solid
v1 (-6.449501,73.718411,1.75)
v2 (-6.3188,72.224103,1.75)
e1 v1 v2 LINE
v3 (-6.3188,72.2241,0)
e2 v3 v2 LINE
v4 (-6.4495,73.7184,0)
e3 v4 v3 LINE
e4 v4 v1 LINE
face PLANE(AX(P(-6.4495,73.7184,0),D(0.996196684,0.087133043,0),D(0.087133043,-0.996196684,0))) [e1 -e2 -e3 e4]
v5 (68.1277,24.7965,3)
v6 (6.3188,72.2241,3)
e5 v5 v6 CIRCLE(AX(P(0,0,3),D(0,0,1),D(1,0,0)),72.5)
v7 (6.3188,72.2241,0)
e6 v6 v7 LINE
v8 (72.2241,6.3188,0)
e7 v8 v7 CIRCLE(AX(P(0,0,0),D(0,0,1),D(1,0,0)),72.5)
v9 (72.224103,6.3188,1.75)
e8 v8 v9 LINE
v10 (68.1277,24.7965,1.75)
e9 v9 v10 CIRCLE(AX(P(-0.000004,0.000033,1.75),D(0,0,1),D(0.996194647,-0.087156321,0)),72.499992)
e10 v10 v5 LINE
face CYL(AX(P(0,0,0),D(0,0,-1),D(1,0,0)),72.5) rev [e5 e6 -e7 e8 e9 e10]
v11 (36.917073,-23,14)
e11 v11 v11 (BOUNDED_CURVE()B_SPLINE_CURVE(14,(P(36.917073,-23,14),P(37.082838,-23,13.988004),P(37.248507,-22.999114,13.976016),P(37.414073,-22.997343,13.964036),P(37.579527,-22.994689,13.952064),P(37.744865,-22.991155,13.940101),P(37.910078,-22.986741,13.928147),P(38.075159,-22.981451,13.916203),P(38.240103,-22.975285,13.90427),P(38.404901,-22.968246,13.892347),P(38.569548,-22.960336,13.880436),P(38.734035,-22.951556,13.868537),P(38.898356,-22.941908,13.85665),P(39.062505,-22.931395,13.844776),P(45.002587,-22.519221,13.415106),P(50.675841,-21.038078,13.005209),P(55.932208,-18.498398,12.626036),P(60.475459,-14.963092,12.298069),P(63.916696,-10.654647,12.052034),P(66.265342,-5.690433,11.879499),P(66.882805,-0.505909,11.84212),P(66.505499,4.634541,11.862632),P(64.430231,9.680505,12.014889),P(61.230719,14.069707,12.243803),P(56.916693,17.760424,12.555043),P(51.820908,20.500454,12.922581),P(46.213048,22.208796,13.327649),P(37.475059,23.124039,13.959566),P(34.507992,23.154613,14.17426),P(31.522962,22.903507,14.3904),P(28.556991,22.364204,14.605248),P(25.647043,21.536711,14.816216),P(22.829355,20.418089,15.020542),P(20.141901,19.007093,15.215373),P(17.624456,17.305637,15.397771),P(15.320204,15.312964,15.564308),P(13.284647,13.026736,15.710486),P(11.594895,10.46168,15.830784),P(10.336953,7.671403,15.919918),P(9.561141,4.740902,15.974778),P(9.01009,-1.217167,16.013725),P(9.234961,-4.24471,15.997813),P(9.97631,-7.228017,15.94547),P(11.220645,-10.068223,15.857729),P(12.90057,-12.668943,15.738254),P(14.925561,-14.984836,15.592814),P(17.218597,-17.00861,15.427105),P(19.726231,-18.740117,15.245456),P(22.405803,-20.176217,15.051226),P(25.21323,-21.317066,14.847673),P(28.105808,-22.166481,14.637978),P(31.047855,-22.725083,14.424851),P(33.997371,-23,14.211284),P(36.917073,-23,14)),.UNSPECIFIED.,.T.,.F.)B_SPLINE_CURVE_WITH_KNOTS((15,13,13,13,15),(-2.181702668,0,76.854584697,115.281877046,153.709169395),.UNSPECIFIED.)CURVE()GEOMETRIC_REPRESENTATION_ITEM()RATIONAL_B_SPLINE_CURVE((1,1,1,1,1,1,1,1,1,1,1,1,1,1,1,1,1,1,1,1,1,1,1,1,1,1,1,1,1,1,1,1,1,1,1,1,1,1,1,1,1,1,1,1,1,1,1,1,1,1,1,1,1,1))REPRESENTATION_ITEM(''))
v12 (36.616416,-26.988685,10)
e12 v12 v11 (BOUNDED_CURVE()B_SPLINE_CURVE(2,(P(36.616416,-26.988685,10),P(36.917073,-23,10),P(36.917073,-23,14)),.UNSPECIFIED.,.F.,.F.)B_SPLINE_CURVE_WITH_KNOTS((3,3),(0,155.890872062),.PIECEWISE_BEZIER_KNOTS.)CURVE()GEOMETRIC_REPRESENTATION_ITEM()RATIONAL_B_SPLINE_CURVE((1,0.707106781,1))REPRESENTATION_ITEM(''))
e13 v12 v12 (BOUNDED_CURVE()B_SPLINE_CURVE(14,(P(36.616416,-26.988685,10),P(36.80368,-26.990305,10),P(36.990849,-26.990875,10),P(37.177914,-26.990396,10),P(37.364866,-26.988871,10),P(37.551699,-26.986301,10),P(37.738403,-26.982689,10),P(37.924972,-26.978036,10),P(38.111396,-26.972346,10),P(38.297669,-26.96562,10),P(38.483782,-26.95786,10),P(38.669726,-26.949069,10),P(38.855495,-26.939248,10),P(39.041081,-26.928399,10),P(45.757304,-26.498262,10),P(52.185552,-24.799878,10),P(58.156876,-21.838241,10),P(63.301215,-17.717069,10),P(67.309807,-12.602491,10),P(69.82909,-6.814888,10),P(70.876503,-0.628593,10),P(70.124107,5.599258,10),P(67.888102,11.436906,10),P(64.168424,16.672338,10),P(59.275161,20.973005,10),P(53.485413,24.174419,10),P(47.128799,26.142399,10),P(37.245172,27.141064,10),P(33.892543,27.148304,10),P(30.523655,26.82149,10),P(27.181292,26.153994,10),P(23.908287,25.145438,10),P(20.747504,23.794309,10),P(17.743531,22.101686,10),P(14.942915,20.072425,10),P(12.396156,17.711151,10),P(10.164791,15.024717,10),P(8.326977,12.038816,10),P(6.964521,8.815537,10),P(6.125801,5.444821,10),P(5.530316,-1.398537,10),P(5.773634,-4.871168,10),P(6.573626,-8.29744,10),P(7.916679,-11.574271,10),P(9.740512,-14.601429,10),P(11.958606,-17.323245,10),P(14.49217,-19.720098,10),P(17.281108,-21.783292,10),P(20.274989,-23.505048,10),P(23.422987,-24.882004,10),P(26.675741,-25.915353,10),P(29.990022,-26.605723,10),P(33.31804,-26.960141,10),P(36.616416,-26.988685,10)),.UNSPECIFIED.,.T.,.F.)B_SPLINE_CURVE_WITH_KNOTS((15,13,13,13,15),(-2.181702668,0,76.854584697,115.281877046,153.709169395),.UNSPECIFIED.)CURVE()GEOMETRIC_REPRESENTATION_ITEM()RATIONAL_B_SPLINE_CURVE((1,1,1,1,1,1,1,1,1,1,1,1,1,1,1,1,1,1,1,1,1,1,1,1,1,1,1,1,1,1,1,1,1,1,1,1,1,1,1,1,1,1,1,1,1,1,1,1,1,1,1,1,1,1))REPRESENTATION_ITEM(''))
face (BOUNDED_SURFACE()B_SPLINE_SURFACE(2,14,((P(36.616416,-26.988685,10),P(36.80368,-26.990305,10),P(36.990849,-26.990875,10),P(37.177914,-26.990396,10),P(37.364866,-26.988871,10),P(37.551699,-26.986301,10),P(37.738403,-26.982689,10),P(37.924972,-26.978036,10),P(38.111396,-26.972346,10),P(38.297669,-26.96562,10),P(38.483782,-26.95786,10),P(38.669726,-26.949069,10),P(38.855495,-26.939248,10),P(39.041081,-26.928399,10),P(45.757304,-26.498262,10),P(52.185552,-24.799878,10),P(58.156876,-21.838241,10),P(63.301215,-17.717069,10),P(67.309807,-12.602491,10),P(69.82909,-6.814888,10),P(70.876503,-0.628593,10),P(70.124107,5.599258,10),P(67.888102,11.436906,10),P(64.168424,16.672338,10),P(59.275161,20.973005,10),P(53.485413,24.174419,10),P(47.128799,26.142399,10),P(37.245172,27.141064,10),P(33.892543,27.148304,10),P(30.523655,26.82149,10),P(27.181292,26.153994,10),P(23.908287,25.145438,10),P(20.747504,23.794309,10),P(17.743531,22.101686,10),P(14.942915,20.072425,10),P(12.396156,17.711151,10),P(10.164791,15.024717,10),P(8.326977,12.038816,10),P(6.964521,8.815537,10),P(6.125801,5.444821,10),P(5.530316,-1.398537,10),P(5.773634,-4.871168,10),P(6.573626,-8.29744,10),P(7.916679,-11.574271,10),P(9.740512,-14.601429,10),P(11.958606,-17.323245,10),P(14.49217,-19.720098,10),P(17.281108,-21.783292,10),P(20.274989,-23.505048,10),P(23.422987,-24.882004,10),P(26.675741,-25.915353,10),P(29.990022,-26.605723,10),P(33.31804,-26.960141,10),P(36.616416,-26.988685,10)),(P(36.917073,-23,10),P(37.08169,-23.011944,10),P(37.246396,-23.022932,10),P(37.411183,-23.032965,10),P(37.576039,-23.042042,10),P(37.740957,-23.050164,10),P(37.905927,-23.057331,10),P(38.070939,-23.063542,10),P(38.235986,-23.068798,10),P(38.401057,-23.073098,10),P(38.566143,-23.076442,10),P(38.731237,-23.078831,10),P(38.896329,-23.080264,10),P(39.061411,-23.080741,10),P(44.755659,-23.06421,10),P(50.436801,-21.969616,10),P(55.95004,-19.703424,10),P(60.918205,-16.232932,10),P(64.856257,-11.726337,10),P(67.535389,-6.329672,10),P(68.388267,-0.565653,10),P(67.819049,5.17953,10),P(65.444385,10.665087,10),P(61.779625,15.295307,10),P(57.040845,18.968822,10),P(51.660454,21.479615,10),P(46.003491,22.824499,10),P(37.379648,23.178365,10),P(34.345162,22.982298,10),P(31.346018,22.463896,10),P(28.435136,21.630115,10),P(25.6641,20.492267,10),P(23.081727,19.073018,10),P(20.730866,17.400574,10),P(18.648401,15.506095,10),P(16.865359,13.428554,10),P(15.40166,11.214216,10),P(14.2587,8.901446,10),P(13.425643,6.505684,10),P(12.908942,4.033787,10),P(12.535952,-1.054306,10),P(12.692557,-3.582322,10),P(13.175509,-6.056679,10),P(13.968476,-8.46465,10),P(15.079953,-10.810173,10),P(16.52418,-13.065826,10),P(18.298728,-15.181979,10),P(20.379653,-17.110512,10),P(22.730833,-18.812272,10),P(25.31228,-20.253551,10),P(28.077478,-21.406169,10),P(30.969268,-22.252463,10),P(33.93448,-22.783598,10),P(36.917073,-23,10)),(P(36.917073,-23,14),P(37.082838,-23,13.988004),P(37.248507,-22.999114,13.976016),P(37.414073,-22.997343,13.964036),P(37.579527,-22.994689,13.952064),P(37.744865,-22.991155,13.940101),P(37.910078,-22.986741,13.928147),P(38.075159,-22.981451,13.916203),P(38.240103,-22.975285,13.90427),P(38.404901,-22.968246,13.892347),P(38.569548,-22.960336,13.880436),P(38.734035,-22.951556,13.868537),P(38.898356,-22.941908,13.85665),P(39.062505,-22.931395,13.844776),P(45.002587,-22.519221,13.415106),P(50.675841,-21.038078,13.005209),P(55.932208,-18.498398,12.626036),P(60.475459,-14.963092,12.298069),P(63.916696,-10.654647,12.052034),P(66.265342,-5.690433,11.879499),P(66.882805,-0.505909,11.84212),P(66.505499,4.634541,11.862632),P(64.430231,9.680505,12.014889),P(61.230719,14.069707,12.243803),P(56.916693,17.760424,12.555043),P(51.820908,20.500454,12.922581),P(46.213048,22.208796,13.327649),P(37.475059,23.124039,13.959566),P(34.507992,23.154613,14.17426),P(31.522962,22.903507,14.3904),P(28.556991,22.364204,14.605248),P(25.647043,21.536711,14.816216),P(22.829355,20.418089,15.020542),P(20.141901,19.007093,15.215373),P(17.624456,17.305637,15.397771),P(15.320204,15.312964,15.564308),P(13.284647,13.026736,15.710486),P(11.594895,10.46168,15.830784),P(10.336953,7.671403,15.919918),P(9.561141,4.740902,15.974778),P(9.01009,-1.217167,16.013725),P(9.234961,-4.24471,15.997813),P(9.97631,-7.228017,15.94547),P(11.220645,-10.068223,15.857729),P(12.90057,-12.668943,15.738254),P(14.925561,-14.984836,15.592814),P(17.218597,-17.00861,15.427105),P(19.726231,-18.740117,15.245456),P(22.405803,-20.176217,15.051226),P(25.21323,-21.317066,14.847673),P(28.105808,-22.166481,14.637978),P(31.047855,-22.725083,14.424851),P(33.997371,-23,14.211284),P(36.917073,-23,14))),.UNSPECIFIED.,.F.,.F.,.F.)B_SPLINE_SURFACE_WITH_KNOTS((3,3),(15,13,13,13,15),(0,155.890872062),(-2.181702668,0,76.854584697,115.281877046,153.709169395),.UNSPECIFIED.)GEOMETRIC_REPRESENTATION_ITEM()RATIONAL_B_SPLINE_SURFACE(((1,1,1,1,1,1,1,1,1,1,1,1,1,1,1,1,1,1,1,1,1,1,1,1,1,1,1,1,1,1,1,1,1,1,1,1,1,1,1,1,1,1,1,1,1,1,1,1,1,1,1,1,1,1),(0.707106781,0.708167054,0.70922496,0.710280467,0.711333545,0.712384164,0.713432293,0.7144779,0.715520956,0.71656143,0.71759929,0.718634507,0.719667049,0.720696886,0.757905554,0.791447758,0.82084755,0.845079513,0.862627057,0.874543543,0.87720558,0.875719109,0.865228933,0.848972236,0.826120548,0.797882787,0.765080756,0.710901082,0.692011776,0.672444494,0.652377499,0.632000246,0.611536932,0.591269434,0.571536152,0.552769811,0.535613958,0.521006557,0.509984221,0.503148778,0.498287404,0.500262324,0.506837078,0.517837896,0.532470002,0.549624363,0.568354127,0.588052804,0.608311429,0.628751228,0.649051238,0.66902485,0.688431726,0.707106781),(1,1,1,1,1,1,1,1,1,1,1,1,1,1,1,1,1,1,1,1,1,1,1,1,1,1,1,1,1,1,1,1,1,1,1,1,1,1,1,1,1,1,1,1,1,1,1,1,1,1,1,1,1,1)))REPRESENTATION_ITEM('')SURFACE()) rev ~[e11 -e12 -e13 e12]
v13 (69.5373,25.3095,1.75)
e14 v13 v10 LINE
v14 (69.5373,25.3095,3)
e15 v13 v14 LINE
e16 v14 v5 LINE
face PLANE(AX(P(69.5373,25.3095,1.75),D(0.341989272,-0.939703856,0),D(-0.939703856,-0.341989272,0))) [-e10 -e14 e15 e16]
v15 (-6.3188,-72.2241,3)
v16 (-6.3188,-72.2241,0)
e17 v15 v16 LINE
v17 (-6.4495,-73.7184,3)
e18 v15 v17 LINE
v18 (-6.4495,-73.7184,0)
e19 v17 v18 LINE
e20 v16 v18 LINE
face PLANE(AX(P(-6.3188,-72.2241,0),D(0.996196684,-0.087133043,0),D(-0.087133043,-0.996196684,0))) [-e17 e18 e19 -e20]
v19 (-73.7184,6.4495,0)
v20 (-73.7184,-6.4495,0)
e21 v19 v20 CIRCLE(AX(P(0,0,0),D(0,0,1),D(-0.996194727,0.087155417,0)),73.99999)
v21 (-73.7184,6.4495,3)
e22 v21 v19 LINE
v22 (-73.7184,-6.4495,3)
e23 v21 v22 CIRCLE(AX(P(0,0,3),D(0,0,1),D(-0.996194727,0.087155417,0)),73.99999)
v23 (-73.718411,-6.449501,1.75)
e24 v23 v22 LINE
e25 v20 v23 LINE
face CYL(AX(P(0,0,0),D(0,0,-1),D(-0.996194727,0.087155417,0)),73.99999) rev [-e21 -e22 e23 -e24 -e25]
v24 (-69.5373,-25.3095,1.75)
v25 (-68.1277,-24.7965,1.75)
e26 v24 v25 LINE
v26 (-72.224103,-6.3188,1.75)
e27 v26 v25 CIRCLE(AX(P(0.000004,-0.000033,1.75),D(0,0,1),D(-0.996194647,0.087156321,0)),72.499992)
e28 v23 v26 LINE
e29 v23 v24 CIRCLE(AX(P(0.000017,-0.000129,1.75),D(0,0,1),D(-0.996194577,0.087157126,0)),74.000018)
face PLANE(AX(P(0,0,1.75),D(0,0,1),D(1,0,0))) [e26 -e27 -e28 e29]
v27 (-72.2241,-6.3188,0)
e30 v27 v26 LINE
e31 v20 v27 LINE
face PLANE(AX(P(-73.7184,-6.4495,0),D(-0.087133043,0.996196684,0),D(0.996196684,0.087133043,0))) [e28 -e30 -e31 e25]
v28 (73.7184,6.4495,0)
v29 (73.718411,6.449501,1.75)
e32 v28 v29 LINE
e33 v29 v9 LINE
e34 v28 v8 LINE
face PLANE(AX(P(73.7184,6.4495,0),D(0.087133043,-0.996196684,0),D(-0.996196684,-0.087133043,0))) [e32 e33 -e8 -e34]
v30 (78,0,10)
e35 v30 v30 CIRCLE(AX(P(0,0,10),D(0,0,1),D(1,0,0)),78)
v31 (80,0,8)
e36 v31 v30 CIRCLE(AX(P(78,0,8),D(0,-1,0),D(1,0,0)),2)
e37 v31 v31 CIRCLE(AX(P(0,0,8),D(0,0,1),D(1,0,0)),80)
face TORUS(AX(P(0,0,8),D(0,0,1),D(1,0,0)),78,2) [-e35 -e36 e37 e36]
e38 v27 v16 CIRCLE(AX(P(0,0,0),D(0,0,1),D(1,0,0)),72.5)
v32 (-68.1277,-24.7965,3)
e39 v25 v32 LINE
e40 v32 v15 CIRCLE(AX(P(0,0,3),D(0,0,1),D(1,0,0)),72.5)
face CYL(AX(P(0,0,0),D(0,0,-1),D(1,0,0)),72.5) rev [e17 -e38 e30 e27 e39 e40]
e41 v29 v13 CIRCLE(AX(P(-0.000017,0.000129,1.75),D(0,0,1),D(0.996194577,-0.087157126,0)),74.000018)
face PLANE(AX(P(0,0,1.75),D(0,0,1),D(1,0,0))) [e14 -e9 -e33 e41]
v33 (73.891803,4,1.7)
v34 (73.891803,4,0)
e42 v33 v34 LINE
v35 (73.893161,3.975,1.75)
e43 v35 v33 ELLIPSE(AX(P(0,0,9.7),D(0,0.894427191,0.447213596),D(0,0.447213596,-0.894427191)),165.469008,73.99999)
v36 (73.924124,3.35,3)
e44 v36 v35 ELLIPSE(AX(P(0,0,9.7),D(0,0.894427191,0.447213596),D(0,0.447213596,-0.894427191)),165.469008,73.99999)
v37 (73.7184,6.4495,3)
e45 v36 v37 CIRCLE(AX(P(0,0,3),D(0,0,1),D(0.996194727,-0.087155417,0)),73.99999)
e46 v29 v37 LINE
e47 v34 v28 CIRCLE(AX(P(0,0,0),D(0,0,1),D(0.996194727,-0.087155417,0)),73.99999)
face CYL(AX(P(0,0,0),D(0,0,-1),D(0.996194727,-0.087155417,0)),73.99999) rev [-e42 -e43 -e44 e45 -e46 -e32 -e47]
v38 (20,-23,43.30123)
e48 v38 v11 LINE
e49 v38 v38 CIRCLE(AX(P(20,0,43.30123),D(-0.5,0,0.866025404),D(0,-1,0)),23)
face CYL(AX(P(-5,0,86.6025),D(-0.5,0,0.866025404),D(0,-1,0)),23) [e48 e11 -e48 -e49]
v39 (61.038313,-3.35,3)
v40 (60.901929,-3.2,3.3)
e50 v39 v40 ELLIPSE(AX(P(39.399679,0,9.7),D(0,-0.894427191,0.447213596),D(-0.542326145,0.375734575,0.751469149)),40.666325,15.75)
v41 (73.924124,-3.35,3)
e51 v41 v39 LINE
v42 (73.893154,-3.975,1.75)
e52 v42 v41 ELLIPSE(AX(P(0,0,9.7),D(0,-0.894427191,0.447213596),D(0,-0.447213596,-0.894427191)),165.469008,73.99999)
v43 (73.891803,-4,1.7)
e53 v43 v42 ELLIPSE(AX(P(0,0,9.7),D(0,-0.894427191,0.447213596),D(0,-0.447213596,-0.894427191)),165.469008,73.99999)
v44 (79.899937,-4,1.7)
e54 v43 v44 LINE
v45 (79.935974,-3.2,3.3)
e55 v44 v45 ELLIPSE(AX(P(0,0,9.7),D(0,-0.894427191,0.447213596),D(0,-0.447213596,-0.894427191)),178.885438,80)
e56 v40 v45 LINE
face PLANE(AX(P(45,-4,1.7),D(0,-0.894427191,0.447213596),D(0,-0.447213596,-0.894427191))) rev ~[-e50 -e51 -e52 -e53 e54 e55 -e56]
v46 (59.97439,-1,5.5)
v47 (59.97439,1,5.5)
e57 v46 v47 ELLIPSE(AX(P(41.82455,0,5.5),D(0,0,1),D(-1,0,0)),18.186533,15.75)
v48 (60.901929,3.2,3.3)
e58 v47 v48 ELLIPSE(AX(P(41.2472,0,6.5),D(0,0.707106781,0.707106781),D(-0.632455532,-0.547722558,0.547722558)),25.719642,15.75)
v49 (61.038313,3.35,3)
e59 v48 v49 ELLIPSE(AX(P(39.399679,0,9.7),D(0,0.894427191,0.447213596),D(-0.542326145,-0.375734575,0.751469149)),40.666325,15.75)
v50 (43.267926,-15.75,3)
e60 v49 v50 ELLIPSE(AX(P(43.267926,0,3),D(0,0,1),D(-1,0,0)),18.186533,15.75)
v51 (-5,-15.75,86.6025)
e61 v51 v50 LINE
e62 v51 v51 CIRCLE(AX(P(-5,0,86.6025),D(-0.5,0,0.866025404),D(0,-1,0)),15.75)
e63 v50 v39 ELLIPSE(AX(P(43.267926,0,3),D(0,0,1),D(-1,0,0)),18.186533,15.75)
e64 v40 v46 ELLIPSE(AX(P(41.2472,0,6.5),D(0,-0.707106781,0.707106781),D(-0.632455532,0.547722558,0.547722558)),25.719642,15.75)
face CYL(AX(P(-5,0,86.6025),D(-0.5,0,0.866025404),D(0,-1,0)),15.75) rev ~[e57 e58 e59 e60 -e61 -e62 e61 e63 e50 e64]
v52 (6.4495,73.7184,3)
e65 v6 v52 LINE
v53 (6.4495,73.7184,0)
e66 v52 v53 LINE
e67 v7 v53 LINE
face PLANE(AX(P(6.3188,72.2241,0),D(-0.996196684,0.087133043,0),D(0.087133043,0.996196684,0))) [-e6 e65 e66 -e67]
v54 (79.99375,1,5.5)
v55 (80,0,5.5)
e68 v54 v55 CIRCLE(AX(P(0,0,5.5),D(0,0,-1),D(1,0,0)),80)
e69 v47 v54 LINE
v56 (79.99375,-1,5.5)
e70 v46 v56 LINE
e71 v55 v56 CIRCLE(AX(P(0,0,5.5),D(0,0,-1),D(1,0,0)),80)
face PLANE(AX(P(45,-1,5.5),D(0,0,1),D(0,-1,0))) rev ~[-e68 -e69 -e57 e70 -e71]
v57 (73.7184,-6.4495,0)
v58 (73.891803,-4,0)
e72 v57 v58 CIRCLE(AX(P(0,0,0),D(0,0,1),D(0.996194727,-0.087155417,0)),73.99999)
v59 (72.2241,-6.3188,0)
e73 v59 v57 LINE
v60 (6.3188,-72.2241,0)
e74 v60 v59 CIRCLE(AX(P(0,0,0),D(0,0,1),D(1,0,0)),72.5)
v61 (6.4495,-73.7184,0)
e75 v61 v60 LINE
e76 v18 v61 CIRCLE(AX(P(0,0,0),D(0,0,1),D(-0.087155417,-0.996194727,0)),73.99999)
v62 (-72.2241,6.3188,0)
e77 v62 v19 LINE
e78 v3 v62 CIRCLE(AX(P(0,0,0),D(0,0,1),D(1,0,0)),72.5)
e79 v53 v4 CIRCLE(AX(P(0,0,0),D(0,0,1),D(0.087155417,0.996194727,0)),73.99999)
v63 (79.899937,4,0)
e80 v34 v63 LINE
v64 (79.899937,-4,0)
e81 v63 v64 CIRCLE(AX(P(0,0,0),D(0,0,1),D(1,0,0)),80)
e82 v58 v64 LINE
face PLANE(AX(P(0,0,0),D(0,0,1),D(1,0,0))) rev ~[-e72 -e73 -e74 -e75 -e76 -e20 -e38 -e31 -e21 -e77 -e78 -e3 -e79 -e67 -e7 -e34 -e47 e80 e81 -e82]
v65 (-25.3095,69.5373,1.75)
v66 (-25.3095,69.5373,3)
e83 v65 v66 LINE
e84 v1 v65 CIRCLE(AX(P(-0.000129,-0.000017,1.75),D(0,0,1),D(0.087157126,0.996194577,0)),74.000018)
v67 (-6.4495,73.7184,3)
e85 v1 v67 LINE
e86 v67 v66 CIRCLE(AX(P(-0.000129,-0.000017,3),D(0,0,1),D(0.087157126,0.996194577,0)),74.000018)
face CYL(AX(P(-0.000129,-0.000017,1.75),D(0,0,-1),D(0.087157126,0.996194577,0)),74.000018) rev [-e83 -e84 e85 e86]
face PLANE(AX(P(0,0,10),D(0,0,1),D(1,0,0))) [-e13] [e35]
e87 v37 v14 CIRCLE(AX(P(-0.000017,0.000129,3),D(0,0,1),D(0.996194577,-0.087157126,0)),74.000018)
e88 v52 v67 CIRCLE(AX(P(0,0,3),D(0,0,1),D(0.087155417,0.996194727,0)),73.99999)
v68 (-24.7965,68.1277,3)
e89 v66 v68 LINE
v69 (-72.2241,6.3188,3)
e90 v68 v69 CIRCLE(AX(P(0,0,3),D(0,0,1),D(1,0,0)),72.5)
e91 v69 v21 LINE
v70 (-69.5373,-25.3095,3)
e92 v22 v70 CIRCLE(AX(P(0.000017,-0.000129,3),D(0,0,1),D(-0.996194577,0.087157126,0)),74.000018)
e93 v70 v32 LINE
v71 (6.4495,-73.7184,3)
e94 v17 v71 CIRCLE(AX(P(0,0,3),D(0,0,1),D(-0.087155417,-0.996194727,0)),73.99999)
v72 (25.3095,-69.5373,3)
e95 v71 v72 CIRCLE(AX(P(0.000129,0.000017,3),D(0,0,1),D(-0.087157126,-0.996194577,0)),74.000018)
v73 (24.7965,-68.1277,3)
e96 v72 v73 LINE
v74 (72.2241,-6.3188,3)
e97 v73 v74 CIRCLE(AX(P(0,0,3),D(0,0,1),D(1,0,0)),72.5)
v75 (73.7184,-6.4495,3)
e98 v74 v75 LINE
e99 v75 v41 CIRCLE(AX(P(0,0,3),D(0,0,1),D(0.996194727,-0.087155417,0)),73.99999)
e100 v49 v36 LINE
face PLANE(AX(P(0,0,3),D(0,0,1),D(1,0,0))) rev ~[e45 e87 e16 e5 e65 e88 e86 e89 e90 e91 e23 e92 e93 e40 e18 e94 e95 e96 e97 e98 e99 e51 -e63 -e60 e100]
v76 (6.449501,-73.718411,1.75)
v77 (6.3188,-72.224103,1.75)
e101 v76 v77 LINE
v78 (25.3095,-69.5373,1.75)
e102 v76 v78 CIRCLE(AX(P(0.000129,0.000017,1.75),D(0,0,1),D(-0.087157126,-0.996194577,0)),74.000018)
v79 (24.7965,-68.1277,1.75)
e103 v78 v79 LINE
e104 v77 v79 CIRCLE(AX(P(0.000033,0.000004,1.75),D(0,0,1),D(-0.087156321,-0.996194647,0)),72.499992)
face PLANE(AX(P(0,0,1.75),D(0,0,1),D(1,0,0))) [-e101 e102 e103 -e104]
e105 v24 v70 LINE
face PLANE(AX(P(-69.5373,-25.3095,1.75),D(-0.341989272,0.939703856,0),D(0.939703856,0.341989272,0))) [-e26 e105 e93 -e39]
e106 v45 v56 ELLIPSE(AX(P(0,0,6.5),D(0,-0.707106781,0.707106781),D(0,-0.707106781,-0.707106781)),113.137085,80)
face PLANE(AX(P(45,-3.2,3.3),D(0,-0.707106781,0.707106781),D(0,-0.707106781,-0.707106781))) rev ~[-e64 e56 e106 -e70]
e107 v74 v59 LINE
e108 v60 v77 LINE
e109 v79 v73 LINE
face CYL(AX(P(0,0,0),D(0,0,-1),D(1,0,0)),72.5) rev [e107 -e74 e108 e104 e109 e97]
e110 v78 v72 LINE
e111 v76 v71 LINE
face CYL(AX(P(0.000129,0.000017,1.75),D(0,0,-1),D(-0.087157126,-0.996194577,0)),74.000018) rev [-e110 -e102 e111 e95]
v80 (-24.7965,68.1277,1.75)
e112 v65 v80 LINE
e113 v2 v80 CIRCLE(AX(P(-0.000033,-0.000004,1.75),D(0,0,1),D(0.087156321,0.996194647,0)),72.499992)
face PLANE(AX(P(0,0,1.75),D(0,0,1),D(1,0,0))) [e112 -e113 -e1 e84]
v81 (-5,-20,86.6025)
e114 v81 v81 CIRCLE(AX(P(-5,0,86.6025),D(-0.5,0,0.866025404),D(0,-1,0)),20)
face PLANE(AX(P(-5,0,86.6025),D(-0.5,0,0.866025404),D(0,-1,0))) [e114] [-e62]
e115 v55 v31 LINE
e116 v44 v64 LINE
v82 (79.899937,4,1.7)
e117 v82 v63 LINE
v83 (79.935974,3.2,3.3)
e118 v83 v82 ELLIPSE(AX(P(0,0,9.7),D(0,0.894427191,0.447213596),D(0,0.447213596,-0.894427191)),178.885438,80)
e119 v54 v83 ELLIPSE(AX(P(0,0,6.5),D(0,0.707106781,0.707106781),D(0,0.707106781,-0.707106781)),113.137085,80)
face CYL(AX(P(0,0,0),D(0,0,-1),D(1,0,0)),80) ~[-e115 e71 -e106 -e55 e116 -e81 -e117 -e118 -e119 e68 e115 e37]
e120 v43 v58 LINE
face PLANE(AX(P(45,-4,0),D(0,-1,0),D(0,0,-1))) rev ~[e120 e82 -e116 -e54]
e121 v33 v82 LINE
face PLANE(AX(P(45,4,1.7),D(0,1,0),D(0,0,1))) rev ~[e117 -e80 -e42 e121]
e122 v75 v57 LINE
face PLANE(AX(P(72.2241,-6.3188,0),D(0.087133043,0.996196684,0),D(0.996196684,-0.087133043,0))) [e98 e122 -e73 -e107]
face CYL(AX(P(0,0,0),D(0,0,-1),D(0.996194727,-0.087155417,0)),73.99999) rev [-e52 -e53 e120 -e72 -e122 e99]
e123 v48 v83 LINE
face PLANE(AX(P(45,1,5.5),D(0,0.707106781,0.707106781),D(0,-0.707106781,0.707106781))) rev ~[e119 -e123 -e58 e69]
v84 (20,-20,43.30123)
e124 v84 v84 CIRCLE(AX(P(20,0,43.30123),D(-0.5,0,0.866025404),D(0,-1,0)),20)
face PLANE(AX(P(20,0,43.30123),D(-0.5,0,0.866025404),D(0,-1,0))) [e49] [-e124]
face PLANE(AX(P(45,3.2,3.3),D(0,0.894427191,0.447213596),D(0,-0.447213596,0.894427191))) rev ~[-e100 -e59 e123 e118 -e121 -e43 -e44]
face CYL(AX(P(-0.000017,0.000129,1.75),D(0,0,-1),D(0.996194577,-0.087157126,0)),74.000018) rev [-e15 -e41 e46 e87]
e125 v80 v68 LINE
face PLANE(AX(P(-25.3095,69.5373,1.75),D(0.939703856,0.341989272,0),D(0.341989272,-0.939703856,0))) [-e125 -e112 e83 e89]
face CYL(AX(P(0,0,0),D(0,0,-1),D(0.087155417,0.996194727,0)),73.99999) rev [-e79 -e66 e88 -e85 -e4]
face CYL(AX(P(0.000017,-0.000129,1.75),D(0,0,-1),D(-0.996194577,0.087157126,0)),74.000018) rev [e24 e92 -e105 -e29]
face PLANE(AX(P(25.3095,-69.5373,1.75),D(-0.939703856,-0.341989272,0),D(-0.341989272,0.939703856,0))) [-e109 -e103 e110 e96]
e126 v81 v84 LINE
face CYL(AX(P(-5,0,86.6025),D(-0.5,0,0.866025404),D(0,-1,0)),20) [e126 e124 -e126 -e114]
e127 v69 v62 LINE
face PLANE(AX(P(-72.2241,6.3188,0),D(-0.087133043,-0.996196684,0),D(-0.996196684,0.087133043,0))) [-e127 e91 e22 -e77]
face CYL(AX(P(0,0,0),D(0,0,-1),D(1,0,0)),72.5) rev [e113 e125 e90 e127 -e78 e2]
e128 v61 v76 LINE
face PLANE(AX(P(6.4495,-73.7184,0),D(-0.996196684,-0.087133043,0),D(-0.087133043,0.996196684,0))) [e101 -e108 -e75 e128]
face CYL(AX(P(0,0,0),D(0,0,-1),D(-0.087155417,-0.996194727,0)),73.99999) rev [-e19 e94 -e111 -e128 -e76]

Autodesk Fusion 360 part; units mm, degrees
sketch "Skizze1" plane through (0, 0, 0) normal (0, 0, 1) x (1, 0, 0)
  circle A0 centre (0, 0) radius 80
extrude "Extrusion1" add sketch "Skizze1" along normal blind 10 makes body 1
fillet "Abrundung1" radius 2 1 edges at (-74.5862, -28.9292, 10) on bodies 1
sketch "Skizze2" plane through (0, 0, 0) normal (0, 1, 0) x (1, 0, 0)
  line L0 (45, 0) -> (-5, -86.6025) construction
ref_plane "Arbeitsebene1" through (-5, 0, 86.6025) normal (-0.5, 0, 0.866) x (0, -1, 0)
sketch "Skizze3" plane through (-5, 0, 86.6025) normal (-0.5, 0, 0.866) x (0, -1, 0)
  circle A0 centre (0, 0) radius 23
  circle A1 centre (0, 0) radius 20
extrude "Extrusion5" add sketch "Skizze3" against normal blind 110 separate body contours A0 | A1 makes body 2
combine "Kombinieren1" operation add target body 1 tool bodies 2
extrude "Extrusion6" cut sketch "Skizze3" against normal blind 50 bodies 1
fillet "Abrundung2" radius 4 3 edges at (65.7846, 0, 10) (-74.5862, -28.9292, 8) (-72.7215, 28.206, 10) on bodies 1
sketch "Skizze4" plane through (-5, 0, 86.6025) normal (-0.5, 0, 0.866) x (0, -1, 0)
  circle A0 centre (0, 0) radius 15.75
extrude "Extrusion7" cut sketch "Skizze4" against normal blind 110 bodies 1
sketch "Skizze5" plane through (0, 0, 0) normal (0, 0, 1) x (1, 0, 0)
  circle A0 centre (0, 0) radius 160
extrude "Extrusion8" cut sketch "Skizze5" against normal blind 110 bodies 1
sketch "Skizze6" plane through (0, 0, 0) normal (0, 0, 1) x (1, 0, 0)
  line L0 (45, 0) -> (85, 0)
ref_plane "Arbeitsebene2" through (45, 0, 0) normal (1, 0, 0) x (0, 1, 0)
sketch "Skizze7" plane through (45, 0, 0) normal (1, 0, 0) x (0, 1, 0)
  line L0 (-4, 0) -> (-4, 1.7)
  line L1 (-4, 1.7) -> (-3.2, 3.3)
  line L2 (-3.2, 3.3) -> (-1, 5.5)
  line L3 (-1, 5.5) -> (1, 5.5)
  line L4 (1, 5.5) -> (3.2, 3.3)
  line L5 (3.2, 3.3) -> (4, 1.7)
  line L6 (4, 1.7) -> (4, 0)
  line L7 (4, 0) -> (-4, 0)
sweep "Sweeping1" cut profiles "Skizze7" path "Skizze6" along L0 section 1 bodies 1
sketch "Skizze8" plane through (0, 0, 0) normal (0, 0, 1) x (1, 0, 0)
  circle A0 centre (0, 0) radius 72.5
extrude "Extrusion9" cut sketch "Skizze8" along normal blind 3 bodies 1
sketch "Skizze9" plane through (0, 0, 0) normal (0, 0, 1) x (1, 0, 0)
  line L0 (72.2241, -6.3188) -> (73.7184, -6.4495)
  arc A0 (73.7184, -6.4495) -> (73.7184, 6.4495) centre (0, 0) ccw
  line L1 (73.7184, 6.4495) -> (72.2241, 6.3188)
  arc A1 (72.2241, -6.3188) -> (72.2241, 6.3188) centre (0, 0) ccw
  line L2 (6.3188, 72.2241) -> (6.4495, 73.7184)
  arc A2 (6.4495, 73.7184) -> (-6.4495, 73.7184) centre (0, 0) ccw
  line L3 (-6.4495, 73.7184) -> (-6.3188, 72.2241)
  arc A3 (6.3188, 72.2241) -> (-6.3188, 72.2241) centre (0, 0) ccw
  line L4 (-72.2241, 6.3188) -> (-73.7184, 6.4495)
  arc A4 (-73.7184, 6.4495) -> (-73.7184, -6.4495) centre (0, 0) ccw
  line L5 (-73.7184, -6.4495) -> (-72.2241, -6.3188)
  arc A5 (-72.2241, 6.3188) -> (-72.2241, -6.3188) centre (0, 0) ccw
  line L6 (-6.3188, -72.2241) -> (-6.4495, -73.7184)
  arc A6 (-6.4495, -73.7184) -> (6.4495, -73.7184) centre (0, 0) ccw
  line L7 (6.4495, -73.7184) -> (6.3188, -72.2241)
  arc A7 (-6.3188, -72.2241) -> (6.3188, -72.2241) centre (0, 0) ccw
extrude "Extrusion10" cut sketch "Skizze9" along normal blind 3 bodies 1
sketch "Skizze10" plane through (0, 0, 0) normal (0, 0, 1) x (1, 0, 0)
  line L0 (72.2241, -6.3188) -> (73.7184, -6.4495)
  arc A0 (73.7184, -6.4495) -> (69.5373, 25.3095) centre (0, 0) ccw
  line L1 (69.5373, 25.3095) -> (68.1277, 24.7965)
  arc A1 (72.2241, -6.3188) -> (68.1277, 24.7965) centre (0, 0) ccw
  line L2 (6.3188, 72.2241) -> (6.4495, 73.7184)
  arc A2 (6.4495, 73.7184) -> (-25.3095, 69.5373) centre (0, 0) ccw
  line L3 (-25.3095, 69.5373) -> (-24.7965, 68.1277)
  arc A3 (6.3188, 72.2241) -> (-24.7965, 68.1277) centre (0, 0) ccw
  line L4 (-72.2241, 6.3188) -> (-73.7184, 6.4495)
  arc A4 (-73.7184, 6.4495) -> (-69.5373, -25.3095) centre (0, 0) ccw
  line L5 (-69.5373, -25.3095) -> (-68.1277, -24.7965)
  arc A5 (-72.2241, 6.3188) -> (-68.1277, -24.7965) centre (0, 0) ccw
  line L6 (-6.3188, -72.2241) -> (-6.4495, -73.7184)
  arc A6 (-6.4495, -73.7184) -> (25.3095, -69.5373) centre (0, 0) ccw
  line L7 (25.3095, -69.5373) -> (24.7965, -68.1277)
  arc A7 (-6.3188, -72.2241) -> (24.7965, -68.1277) centre (0, 0) ccw
extrude "Extrusion11" cut sketch "Skizze10" along normal blind 1.25 from surface at 1.75 bodies 1
sketch "Skizze11" plane through (0, 0, 0) normal (0, 0, 1) x (1, 0, 0)
  circle A0 centre (0, 0) radius 72.2
extrude "Extrusion12" add sketch "Skizze11" along normal blind 3 separate body makes body 3
fillet "Abrundung3" radius 0.5 1 edges at (-67.314, -26.1086, 3) on bodies 3
sketch "Skizze12" plane through (0, 0, 0) normal (0, 0, 1) x (1, 0, 0)
  line L0 (71.0266, -4.9667) -> (73.5205, -5.1411)
  arc A0 (73.5205, -5.1411) -> (73.5205, 5.1411) centre (0, 0) ccw
  line L1 (73.5205, 5.1411) -> (71.0266, 4.9667)
  arc A1 (71.0266, -4.9667) -> (71.0266, 4.9667) centre (0, 0) ccw
  line L2 (4.9667, 71.0266) -> (5.1411, 73.5205)
  arc A2 (5.1411, 73.5205) -> (-5.1411, 73.5205) centre (0, 0) ccw
  line L3 (-5.1411, 73.5205) -> (-4.9667, 71.0266)
  arc A3 (4.9667, 71.0266) -> (-4.9667, 71.0266) centre (0, 0) ccw
  line L4 (-71.0266, 4.9667) -> (-73.5205, 5.1411)
  arc A4 (-73.5205, 5.1411) -> (-73.5205, -5.1411) centre (0, 0) ccw
  line L5 (-73.5205, -5.1411) -> (-71.0266, -4.9667)
  arc A5 (-71.0266, 4.9667) -> (-71.0266, -4.9667) centre (0, 0) ccw
  line L6 (-4.9667, -71.0266) -> (-5.1411, -73.5205)
  arc A6 (-5.1411, -73.5205) -> (5.1411, -73.5205) centre (0, 0) ccw
  line L7 (5.1411, -73.5205) -> (4.9667, -71.0266)
  arc A7 (-4.9667, -71.0266) -> (4.9667, -71.0266) centre (0, 0) ccw
extrude "Extrusion13" add sketch "Skizze12" along normal blind 1.1 from surface at 1.9 separate body makes body 4 at (72.7424, 3.9409, 1.9) makes body 5 at (-72.7424, 3.9409, 1.9) makes body 6 at (-3.9409, 72.7424, 1.9) makes body 7 at (0.5522, -72.8469, 1.9)
combine "Kombinieren2" operation add target body 3 tool bodies 4 5 6 7
sketch "Skizze13" plane through (0, 0, 0) normal (0, 0, 1) x (1, 0, 0)
  circle A0 centre (0, 39.875) radius 9
  circle A1 centre (0, -39.875) radius 9
extrude "Extrusion14" cut sketch "Skizze13" along normal blind 3 bodies 3
delete_body "Körper entfernen1" bodies 3
equation "base_plate_diameter = 160 mm"
equation "base_plate_height = 10 mm"
equation "base_plate_rounding = 2 mm"
equation "leg_outer_diameter = 46 mm"
equation "ring_inner_diameter = 40 mm"
equation "ring_extrude_depth = 50 mm"
equation "hole_inner_diameter = 31.5 mm"
equation "leg_length = 100 mm"
equation "leg_angle = 120 deg"
equation "leg_offset = 45 mm"
equation "leg_plate_rounding = 4 mm"
equation "cable_channel_width = 8 mm"
equation "cable_channel_depth = 5.5 mm"
equation "cable_channel_vertical_height = 2.5 mm"
equation "cable_channel_edge_chamfer = 0.8 mm"
equation "cover_plate_diameter = 145 mm"
equation "cover_plate_thickness = 3 mm"
equation "finger_grip_diameter = 18 mm"
equation "finger_grip_depth = 1.5 mm"
equation "clamp_recess_width = 22 mm"
equation "clamp_recess_length = 12 mm"
equation "clamp_recess_depth = 2.5 mm"
equation "strain_relief_screw_diameter = 2.6 mm"
equation "strain_relief_screw_depth = 6 mm"
equation "d25 = base_plate_height"
equation "d28 = base_plate_rounding"
equation "d41 = leg_plate_rounding"
equation "d53 = cover_plate_thickness"
equation "d55 = cover_plate_thickness"
equation "d60 = cover_plate_thickness"
equation "d67 = cover_plate_thickness"
